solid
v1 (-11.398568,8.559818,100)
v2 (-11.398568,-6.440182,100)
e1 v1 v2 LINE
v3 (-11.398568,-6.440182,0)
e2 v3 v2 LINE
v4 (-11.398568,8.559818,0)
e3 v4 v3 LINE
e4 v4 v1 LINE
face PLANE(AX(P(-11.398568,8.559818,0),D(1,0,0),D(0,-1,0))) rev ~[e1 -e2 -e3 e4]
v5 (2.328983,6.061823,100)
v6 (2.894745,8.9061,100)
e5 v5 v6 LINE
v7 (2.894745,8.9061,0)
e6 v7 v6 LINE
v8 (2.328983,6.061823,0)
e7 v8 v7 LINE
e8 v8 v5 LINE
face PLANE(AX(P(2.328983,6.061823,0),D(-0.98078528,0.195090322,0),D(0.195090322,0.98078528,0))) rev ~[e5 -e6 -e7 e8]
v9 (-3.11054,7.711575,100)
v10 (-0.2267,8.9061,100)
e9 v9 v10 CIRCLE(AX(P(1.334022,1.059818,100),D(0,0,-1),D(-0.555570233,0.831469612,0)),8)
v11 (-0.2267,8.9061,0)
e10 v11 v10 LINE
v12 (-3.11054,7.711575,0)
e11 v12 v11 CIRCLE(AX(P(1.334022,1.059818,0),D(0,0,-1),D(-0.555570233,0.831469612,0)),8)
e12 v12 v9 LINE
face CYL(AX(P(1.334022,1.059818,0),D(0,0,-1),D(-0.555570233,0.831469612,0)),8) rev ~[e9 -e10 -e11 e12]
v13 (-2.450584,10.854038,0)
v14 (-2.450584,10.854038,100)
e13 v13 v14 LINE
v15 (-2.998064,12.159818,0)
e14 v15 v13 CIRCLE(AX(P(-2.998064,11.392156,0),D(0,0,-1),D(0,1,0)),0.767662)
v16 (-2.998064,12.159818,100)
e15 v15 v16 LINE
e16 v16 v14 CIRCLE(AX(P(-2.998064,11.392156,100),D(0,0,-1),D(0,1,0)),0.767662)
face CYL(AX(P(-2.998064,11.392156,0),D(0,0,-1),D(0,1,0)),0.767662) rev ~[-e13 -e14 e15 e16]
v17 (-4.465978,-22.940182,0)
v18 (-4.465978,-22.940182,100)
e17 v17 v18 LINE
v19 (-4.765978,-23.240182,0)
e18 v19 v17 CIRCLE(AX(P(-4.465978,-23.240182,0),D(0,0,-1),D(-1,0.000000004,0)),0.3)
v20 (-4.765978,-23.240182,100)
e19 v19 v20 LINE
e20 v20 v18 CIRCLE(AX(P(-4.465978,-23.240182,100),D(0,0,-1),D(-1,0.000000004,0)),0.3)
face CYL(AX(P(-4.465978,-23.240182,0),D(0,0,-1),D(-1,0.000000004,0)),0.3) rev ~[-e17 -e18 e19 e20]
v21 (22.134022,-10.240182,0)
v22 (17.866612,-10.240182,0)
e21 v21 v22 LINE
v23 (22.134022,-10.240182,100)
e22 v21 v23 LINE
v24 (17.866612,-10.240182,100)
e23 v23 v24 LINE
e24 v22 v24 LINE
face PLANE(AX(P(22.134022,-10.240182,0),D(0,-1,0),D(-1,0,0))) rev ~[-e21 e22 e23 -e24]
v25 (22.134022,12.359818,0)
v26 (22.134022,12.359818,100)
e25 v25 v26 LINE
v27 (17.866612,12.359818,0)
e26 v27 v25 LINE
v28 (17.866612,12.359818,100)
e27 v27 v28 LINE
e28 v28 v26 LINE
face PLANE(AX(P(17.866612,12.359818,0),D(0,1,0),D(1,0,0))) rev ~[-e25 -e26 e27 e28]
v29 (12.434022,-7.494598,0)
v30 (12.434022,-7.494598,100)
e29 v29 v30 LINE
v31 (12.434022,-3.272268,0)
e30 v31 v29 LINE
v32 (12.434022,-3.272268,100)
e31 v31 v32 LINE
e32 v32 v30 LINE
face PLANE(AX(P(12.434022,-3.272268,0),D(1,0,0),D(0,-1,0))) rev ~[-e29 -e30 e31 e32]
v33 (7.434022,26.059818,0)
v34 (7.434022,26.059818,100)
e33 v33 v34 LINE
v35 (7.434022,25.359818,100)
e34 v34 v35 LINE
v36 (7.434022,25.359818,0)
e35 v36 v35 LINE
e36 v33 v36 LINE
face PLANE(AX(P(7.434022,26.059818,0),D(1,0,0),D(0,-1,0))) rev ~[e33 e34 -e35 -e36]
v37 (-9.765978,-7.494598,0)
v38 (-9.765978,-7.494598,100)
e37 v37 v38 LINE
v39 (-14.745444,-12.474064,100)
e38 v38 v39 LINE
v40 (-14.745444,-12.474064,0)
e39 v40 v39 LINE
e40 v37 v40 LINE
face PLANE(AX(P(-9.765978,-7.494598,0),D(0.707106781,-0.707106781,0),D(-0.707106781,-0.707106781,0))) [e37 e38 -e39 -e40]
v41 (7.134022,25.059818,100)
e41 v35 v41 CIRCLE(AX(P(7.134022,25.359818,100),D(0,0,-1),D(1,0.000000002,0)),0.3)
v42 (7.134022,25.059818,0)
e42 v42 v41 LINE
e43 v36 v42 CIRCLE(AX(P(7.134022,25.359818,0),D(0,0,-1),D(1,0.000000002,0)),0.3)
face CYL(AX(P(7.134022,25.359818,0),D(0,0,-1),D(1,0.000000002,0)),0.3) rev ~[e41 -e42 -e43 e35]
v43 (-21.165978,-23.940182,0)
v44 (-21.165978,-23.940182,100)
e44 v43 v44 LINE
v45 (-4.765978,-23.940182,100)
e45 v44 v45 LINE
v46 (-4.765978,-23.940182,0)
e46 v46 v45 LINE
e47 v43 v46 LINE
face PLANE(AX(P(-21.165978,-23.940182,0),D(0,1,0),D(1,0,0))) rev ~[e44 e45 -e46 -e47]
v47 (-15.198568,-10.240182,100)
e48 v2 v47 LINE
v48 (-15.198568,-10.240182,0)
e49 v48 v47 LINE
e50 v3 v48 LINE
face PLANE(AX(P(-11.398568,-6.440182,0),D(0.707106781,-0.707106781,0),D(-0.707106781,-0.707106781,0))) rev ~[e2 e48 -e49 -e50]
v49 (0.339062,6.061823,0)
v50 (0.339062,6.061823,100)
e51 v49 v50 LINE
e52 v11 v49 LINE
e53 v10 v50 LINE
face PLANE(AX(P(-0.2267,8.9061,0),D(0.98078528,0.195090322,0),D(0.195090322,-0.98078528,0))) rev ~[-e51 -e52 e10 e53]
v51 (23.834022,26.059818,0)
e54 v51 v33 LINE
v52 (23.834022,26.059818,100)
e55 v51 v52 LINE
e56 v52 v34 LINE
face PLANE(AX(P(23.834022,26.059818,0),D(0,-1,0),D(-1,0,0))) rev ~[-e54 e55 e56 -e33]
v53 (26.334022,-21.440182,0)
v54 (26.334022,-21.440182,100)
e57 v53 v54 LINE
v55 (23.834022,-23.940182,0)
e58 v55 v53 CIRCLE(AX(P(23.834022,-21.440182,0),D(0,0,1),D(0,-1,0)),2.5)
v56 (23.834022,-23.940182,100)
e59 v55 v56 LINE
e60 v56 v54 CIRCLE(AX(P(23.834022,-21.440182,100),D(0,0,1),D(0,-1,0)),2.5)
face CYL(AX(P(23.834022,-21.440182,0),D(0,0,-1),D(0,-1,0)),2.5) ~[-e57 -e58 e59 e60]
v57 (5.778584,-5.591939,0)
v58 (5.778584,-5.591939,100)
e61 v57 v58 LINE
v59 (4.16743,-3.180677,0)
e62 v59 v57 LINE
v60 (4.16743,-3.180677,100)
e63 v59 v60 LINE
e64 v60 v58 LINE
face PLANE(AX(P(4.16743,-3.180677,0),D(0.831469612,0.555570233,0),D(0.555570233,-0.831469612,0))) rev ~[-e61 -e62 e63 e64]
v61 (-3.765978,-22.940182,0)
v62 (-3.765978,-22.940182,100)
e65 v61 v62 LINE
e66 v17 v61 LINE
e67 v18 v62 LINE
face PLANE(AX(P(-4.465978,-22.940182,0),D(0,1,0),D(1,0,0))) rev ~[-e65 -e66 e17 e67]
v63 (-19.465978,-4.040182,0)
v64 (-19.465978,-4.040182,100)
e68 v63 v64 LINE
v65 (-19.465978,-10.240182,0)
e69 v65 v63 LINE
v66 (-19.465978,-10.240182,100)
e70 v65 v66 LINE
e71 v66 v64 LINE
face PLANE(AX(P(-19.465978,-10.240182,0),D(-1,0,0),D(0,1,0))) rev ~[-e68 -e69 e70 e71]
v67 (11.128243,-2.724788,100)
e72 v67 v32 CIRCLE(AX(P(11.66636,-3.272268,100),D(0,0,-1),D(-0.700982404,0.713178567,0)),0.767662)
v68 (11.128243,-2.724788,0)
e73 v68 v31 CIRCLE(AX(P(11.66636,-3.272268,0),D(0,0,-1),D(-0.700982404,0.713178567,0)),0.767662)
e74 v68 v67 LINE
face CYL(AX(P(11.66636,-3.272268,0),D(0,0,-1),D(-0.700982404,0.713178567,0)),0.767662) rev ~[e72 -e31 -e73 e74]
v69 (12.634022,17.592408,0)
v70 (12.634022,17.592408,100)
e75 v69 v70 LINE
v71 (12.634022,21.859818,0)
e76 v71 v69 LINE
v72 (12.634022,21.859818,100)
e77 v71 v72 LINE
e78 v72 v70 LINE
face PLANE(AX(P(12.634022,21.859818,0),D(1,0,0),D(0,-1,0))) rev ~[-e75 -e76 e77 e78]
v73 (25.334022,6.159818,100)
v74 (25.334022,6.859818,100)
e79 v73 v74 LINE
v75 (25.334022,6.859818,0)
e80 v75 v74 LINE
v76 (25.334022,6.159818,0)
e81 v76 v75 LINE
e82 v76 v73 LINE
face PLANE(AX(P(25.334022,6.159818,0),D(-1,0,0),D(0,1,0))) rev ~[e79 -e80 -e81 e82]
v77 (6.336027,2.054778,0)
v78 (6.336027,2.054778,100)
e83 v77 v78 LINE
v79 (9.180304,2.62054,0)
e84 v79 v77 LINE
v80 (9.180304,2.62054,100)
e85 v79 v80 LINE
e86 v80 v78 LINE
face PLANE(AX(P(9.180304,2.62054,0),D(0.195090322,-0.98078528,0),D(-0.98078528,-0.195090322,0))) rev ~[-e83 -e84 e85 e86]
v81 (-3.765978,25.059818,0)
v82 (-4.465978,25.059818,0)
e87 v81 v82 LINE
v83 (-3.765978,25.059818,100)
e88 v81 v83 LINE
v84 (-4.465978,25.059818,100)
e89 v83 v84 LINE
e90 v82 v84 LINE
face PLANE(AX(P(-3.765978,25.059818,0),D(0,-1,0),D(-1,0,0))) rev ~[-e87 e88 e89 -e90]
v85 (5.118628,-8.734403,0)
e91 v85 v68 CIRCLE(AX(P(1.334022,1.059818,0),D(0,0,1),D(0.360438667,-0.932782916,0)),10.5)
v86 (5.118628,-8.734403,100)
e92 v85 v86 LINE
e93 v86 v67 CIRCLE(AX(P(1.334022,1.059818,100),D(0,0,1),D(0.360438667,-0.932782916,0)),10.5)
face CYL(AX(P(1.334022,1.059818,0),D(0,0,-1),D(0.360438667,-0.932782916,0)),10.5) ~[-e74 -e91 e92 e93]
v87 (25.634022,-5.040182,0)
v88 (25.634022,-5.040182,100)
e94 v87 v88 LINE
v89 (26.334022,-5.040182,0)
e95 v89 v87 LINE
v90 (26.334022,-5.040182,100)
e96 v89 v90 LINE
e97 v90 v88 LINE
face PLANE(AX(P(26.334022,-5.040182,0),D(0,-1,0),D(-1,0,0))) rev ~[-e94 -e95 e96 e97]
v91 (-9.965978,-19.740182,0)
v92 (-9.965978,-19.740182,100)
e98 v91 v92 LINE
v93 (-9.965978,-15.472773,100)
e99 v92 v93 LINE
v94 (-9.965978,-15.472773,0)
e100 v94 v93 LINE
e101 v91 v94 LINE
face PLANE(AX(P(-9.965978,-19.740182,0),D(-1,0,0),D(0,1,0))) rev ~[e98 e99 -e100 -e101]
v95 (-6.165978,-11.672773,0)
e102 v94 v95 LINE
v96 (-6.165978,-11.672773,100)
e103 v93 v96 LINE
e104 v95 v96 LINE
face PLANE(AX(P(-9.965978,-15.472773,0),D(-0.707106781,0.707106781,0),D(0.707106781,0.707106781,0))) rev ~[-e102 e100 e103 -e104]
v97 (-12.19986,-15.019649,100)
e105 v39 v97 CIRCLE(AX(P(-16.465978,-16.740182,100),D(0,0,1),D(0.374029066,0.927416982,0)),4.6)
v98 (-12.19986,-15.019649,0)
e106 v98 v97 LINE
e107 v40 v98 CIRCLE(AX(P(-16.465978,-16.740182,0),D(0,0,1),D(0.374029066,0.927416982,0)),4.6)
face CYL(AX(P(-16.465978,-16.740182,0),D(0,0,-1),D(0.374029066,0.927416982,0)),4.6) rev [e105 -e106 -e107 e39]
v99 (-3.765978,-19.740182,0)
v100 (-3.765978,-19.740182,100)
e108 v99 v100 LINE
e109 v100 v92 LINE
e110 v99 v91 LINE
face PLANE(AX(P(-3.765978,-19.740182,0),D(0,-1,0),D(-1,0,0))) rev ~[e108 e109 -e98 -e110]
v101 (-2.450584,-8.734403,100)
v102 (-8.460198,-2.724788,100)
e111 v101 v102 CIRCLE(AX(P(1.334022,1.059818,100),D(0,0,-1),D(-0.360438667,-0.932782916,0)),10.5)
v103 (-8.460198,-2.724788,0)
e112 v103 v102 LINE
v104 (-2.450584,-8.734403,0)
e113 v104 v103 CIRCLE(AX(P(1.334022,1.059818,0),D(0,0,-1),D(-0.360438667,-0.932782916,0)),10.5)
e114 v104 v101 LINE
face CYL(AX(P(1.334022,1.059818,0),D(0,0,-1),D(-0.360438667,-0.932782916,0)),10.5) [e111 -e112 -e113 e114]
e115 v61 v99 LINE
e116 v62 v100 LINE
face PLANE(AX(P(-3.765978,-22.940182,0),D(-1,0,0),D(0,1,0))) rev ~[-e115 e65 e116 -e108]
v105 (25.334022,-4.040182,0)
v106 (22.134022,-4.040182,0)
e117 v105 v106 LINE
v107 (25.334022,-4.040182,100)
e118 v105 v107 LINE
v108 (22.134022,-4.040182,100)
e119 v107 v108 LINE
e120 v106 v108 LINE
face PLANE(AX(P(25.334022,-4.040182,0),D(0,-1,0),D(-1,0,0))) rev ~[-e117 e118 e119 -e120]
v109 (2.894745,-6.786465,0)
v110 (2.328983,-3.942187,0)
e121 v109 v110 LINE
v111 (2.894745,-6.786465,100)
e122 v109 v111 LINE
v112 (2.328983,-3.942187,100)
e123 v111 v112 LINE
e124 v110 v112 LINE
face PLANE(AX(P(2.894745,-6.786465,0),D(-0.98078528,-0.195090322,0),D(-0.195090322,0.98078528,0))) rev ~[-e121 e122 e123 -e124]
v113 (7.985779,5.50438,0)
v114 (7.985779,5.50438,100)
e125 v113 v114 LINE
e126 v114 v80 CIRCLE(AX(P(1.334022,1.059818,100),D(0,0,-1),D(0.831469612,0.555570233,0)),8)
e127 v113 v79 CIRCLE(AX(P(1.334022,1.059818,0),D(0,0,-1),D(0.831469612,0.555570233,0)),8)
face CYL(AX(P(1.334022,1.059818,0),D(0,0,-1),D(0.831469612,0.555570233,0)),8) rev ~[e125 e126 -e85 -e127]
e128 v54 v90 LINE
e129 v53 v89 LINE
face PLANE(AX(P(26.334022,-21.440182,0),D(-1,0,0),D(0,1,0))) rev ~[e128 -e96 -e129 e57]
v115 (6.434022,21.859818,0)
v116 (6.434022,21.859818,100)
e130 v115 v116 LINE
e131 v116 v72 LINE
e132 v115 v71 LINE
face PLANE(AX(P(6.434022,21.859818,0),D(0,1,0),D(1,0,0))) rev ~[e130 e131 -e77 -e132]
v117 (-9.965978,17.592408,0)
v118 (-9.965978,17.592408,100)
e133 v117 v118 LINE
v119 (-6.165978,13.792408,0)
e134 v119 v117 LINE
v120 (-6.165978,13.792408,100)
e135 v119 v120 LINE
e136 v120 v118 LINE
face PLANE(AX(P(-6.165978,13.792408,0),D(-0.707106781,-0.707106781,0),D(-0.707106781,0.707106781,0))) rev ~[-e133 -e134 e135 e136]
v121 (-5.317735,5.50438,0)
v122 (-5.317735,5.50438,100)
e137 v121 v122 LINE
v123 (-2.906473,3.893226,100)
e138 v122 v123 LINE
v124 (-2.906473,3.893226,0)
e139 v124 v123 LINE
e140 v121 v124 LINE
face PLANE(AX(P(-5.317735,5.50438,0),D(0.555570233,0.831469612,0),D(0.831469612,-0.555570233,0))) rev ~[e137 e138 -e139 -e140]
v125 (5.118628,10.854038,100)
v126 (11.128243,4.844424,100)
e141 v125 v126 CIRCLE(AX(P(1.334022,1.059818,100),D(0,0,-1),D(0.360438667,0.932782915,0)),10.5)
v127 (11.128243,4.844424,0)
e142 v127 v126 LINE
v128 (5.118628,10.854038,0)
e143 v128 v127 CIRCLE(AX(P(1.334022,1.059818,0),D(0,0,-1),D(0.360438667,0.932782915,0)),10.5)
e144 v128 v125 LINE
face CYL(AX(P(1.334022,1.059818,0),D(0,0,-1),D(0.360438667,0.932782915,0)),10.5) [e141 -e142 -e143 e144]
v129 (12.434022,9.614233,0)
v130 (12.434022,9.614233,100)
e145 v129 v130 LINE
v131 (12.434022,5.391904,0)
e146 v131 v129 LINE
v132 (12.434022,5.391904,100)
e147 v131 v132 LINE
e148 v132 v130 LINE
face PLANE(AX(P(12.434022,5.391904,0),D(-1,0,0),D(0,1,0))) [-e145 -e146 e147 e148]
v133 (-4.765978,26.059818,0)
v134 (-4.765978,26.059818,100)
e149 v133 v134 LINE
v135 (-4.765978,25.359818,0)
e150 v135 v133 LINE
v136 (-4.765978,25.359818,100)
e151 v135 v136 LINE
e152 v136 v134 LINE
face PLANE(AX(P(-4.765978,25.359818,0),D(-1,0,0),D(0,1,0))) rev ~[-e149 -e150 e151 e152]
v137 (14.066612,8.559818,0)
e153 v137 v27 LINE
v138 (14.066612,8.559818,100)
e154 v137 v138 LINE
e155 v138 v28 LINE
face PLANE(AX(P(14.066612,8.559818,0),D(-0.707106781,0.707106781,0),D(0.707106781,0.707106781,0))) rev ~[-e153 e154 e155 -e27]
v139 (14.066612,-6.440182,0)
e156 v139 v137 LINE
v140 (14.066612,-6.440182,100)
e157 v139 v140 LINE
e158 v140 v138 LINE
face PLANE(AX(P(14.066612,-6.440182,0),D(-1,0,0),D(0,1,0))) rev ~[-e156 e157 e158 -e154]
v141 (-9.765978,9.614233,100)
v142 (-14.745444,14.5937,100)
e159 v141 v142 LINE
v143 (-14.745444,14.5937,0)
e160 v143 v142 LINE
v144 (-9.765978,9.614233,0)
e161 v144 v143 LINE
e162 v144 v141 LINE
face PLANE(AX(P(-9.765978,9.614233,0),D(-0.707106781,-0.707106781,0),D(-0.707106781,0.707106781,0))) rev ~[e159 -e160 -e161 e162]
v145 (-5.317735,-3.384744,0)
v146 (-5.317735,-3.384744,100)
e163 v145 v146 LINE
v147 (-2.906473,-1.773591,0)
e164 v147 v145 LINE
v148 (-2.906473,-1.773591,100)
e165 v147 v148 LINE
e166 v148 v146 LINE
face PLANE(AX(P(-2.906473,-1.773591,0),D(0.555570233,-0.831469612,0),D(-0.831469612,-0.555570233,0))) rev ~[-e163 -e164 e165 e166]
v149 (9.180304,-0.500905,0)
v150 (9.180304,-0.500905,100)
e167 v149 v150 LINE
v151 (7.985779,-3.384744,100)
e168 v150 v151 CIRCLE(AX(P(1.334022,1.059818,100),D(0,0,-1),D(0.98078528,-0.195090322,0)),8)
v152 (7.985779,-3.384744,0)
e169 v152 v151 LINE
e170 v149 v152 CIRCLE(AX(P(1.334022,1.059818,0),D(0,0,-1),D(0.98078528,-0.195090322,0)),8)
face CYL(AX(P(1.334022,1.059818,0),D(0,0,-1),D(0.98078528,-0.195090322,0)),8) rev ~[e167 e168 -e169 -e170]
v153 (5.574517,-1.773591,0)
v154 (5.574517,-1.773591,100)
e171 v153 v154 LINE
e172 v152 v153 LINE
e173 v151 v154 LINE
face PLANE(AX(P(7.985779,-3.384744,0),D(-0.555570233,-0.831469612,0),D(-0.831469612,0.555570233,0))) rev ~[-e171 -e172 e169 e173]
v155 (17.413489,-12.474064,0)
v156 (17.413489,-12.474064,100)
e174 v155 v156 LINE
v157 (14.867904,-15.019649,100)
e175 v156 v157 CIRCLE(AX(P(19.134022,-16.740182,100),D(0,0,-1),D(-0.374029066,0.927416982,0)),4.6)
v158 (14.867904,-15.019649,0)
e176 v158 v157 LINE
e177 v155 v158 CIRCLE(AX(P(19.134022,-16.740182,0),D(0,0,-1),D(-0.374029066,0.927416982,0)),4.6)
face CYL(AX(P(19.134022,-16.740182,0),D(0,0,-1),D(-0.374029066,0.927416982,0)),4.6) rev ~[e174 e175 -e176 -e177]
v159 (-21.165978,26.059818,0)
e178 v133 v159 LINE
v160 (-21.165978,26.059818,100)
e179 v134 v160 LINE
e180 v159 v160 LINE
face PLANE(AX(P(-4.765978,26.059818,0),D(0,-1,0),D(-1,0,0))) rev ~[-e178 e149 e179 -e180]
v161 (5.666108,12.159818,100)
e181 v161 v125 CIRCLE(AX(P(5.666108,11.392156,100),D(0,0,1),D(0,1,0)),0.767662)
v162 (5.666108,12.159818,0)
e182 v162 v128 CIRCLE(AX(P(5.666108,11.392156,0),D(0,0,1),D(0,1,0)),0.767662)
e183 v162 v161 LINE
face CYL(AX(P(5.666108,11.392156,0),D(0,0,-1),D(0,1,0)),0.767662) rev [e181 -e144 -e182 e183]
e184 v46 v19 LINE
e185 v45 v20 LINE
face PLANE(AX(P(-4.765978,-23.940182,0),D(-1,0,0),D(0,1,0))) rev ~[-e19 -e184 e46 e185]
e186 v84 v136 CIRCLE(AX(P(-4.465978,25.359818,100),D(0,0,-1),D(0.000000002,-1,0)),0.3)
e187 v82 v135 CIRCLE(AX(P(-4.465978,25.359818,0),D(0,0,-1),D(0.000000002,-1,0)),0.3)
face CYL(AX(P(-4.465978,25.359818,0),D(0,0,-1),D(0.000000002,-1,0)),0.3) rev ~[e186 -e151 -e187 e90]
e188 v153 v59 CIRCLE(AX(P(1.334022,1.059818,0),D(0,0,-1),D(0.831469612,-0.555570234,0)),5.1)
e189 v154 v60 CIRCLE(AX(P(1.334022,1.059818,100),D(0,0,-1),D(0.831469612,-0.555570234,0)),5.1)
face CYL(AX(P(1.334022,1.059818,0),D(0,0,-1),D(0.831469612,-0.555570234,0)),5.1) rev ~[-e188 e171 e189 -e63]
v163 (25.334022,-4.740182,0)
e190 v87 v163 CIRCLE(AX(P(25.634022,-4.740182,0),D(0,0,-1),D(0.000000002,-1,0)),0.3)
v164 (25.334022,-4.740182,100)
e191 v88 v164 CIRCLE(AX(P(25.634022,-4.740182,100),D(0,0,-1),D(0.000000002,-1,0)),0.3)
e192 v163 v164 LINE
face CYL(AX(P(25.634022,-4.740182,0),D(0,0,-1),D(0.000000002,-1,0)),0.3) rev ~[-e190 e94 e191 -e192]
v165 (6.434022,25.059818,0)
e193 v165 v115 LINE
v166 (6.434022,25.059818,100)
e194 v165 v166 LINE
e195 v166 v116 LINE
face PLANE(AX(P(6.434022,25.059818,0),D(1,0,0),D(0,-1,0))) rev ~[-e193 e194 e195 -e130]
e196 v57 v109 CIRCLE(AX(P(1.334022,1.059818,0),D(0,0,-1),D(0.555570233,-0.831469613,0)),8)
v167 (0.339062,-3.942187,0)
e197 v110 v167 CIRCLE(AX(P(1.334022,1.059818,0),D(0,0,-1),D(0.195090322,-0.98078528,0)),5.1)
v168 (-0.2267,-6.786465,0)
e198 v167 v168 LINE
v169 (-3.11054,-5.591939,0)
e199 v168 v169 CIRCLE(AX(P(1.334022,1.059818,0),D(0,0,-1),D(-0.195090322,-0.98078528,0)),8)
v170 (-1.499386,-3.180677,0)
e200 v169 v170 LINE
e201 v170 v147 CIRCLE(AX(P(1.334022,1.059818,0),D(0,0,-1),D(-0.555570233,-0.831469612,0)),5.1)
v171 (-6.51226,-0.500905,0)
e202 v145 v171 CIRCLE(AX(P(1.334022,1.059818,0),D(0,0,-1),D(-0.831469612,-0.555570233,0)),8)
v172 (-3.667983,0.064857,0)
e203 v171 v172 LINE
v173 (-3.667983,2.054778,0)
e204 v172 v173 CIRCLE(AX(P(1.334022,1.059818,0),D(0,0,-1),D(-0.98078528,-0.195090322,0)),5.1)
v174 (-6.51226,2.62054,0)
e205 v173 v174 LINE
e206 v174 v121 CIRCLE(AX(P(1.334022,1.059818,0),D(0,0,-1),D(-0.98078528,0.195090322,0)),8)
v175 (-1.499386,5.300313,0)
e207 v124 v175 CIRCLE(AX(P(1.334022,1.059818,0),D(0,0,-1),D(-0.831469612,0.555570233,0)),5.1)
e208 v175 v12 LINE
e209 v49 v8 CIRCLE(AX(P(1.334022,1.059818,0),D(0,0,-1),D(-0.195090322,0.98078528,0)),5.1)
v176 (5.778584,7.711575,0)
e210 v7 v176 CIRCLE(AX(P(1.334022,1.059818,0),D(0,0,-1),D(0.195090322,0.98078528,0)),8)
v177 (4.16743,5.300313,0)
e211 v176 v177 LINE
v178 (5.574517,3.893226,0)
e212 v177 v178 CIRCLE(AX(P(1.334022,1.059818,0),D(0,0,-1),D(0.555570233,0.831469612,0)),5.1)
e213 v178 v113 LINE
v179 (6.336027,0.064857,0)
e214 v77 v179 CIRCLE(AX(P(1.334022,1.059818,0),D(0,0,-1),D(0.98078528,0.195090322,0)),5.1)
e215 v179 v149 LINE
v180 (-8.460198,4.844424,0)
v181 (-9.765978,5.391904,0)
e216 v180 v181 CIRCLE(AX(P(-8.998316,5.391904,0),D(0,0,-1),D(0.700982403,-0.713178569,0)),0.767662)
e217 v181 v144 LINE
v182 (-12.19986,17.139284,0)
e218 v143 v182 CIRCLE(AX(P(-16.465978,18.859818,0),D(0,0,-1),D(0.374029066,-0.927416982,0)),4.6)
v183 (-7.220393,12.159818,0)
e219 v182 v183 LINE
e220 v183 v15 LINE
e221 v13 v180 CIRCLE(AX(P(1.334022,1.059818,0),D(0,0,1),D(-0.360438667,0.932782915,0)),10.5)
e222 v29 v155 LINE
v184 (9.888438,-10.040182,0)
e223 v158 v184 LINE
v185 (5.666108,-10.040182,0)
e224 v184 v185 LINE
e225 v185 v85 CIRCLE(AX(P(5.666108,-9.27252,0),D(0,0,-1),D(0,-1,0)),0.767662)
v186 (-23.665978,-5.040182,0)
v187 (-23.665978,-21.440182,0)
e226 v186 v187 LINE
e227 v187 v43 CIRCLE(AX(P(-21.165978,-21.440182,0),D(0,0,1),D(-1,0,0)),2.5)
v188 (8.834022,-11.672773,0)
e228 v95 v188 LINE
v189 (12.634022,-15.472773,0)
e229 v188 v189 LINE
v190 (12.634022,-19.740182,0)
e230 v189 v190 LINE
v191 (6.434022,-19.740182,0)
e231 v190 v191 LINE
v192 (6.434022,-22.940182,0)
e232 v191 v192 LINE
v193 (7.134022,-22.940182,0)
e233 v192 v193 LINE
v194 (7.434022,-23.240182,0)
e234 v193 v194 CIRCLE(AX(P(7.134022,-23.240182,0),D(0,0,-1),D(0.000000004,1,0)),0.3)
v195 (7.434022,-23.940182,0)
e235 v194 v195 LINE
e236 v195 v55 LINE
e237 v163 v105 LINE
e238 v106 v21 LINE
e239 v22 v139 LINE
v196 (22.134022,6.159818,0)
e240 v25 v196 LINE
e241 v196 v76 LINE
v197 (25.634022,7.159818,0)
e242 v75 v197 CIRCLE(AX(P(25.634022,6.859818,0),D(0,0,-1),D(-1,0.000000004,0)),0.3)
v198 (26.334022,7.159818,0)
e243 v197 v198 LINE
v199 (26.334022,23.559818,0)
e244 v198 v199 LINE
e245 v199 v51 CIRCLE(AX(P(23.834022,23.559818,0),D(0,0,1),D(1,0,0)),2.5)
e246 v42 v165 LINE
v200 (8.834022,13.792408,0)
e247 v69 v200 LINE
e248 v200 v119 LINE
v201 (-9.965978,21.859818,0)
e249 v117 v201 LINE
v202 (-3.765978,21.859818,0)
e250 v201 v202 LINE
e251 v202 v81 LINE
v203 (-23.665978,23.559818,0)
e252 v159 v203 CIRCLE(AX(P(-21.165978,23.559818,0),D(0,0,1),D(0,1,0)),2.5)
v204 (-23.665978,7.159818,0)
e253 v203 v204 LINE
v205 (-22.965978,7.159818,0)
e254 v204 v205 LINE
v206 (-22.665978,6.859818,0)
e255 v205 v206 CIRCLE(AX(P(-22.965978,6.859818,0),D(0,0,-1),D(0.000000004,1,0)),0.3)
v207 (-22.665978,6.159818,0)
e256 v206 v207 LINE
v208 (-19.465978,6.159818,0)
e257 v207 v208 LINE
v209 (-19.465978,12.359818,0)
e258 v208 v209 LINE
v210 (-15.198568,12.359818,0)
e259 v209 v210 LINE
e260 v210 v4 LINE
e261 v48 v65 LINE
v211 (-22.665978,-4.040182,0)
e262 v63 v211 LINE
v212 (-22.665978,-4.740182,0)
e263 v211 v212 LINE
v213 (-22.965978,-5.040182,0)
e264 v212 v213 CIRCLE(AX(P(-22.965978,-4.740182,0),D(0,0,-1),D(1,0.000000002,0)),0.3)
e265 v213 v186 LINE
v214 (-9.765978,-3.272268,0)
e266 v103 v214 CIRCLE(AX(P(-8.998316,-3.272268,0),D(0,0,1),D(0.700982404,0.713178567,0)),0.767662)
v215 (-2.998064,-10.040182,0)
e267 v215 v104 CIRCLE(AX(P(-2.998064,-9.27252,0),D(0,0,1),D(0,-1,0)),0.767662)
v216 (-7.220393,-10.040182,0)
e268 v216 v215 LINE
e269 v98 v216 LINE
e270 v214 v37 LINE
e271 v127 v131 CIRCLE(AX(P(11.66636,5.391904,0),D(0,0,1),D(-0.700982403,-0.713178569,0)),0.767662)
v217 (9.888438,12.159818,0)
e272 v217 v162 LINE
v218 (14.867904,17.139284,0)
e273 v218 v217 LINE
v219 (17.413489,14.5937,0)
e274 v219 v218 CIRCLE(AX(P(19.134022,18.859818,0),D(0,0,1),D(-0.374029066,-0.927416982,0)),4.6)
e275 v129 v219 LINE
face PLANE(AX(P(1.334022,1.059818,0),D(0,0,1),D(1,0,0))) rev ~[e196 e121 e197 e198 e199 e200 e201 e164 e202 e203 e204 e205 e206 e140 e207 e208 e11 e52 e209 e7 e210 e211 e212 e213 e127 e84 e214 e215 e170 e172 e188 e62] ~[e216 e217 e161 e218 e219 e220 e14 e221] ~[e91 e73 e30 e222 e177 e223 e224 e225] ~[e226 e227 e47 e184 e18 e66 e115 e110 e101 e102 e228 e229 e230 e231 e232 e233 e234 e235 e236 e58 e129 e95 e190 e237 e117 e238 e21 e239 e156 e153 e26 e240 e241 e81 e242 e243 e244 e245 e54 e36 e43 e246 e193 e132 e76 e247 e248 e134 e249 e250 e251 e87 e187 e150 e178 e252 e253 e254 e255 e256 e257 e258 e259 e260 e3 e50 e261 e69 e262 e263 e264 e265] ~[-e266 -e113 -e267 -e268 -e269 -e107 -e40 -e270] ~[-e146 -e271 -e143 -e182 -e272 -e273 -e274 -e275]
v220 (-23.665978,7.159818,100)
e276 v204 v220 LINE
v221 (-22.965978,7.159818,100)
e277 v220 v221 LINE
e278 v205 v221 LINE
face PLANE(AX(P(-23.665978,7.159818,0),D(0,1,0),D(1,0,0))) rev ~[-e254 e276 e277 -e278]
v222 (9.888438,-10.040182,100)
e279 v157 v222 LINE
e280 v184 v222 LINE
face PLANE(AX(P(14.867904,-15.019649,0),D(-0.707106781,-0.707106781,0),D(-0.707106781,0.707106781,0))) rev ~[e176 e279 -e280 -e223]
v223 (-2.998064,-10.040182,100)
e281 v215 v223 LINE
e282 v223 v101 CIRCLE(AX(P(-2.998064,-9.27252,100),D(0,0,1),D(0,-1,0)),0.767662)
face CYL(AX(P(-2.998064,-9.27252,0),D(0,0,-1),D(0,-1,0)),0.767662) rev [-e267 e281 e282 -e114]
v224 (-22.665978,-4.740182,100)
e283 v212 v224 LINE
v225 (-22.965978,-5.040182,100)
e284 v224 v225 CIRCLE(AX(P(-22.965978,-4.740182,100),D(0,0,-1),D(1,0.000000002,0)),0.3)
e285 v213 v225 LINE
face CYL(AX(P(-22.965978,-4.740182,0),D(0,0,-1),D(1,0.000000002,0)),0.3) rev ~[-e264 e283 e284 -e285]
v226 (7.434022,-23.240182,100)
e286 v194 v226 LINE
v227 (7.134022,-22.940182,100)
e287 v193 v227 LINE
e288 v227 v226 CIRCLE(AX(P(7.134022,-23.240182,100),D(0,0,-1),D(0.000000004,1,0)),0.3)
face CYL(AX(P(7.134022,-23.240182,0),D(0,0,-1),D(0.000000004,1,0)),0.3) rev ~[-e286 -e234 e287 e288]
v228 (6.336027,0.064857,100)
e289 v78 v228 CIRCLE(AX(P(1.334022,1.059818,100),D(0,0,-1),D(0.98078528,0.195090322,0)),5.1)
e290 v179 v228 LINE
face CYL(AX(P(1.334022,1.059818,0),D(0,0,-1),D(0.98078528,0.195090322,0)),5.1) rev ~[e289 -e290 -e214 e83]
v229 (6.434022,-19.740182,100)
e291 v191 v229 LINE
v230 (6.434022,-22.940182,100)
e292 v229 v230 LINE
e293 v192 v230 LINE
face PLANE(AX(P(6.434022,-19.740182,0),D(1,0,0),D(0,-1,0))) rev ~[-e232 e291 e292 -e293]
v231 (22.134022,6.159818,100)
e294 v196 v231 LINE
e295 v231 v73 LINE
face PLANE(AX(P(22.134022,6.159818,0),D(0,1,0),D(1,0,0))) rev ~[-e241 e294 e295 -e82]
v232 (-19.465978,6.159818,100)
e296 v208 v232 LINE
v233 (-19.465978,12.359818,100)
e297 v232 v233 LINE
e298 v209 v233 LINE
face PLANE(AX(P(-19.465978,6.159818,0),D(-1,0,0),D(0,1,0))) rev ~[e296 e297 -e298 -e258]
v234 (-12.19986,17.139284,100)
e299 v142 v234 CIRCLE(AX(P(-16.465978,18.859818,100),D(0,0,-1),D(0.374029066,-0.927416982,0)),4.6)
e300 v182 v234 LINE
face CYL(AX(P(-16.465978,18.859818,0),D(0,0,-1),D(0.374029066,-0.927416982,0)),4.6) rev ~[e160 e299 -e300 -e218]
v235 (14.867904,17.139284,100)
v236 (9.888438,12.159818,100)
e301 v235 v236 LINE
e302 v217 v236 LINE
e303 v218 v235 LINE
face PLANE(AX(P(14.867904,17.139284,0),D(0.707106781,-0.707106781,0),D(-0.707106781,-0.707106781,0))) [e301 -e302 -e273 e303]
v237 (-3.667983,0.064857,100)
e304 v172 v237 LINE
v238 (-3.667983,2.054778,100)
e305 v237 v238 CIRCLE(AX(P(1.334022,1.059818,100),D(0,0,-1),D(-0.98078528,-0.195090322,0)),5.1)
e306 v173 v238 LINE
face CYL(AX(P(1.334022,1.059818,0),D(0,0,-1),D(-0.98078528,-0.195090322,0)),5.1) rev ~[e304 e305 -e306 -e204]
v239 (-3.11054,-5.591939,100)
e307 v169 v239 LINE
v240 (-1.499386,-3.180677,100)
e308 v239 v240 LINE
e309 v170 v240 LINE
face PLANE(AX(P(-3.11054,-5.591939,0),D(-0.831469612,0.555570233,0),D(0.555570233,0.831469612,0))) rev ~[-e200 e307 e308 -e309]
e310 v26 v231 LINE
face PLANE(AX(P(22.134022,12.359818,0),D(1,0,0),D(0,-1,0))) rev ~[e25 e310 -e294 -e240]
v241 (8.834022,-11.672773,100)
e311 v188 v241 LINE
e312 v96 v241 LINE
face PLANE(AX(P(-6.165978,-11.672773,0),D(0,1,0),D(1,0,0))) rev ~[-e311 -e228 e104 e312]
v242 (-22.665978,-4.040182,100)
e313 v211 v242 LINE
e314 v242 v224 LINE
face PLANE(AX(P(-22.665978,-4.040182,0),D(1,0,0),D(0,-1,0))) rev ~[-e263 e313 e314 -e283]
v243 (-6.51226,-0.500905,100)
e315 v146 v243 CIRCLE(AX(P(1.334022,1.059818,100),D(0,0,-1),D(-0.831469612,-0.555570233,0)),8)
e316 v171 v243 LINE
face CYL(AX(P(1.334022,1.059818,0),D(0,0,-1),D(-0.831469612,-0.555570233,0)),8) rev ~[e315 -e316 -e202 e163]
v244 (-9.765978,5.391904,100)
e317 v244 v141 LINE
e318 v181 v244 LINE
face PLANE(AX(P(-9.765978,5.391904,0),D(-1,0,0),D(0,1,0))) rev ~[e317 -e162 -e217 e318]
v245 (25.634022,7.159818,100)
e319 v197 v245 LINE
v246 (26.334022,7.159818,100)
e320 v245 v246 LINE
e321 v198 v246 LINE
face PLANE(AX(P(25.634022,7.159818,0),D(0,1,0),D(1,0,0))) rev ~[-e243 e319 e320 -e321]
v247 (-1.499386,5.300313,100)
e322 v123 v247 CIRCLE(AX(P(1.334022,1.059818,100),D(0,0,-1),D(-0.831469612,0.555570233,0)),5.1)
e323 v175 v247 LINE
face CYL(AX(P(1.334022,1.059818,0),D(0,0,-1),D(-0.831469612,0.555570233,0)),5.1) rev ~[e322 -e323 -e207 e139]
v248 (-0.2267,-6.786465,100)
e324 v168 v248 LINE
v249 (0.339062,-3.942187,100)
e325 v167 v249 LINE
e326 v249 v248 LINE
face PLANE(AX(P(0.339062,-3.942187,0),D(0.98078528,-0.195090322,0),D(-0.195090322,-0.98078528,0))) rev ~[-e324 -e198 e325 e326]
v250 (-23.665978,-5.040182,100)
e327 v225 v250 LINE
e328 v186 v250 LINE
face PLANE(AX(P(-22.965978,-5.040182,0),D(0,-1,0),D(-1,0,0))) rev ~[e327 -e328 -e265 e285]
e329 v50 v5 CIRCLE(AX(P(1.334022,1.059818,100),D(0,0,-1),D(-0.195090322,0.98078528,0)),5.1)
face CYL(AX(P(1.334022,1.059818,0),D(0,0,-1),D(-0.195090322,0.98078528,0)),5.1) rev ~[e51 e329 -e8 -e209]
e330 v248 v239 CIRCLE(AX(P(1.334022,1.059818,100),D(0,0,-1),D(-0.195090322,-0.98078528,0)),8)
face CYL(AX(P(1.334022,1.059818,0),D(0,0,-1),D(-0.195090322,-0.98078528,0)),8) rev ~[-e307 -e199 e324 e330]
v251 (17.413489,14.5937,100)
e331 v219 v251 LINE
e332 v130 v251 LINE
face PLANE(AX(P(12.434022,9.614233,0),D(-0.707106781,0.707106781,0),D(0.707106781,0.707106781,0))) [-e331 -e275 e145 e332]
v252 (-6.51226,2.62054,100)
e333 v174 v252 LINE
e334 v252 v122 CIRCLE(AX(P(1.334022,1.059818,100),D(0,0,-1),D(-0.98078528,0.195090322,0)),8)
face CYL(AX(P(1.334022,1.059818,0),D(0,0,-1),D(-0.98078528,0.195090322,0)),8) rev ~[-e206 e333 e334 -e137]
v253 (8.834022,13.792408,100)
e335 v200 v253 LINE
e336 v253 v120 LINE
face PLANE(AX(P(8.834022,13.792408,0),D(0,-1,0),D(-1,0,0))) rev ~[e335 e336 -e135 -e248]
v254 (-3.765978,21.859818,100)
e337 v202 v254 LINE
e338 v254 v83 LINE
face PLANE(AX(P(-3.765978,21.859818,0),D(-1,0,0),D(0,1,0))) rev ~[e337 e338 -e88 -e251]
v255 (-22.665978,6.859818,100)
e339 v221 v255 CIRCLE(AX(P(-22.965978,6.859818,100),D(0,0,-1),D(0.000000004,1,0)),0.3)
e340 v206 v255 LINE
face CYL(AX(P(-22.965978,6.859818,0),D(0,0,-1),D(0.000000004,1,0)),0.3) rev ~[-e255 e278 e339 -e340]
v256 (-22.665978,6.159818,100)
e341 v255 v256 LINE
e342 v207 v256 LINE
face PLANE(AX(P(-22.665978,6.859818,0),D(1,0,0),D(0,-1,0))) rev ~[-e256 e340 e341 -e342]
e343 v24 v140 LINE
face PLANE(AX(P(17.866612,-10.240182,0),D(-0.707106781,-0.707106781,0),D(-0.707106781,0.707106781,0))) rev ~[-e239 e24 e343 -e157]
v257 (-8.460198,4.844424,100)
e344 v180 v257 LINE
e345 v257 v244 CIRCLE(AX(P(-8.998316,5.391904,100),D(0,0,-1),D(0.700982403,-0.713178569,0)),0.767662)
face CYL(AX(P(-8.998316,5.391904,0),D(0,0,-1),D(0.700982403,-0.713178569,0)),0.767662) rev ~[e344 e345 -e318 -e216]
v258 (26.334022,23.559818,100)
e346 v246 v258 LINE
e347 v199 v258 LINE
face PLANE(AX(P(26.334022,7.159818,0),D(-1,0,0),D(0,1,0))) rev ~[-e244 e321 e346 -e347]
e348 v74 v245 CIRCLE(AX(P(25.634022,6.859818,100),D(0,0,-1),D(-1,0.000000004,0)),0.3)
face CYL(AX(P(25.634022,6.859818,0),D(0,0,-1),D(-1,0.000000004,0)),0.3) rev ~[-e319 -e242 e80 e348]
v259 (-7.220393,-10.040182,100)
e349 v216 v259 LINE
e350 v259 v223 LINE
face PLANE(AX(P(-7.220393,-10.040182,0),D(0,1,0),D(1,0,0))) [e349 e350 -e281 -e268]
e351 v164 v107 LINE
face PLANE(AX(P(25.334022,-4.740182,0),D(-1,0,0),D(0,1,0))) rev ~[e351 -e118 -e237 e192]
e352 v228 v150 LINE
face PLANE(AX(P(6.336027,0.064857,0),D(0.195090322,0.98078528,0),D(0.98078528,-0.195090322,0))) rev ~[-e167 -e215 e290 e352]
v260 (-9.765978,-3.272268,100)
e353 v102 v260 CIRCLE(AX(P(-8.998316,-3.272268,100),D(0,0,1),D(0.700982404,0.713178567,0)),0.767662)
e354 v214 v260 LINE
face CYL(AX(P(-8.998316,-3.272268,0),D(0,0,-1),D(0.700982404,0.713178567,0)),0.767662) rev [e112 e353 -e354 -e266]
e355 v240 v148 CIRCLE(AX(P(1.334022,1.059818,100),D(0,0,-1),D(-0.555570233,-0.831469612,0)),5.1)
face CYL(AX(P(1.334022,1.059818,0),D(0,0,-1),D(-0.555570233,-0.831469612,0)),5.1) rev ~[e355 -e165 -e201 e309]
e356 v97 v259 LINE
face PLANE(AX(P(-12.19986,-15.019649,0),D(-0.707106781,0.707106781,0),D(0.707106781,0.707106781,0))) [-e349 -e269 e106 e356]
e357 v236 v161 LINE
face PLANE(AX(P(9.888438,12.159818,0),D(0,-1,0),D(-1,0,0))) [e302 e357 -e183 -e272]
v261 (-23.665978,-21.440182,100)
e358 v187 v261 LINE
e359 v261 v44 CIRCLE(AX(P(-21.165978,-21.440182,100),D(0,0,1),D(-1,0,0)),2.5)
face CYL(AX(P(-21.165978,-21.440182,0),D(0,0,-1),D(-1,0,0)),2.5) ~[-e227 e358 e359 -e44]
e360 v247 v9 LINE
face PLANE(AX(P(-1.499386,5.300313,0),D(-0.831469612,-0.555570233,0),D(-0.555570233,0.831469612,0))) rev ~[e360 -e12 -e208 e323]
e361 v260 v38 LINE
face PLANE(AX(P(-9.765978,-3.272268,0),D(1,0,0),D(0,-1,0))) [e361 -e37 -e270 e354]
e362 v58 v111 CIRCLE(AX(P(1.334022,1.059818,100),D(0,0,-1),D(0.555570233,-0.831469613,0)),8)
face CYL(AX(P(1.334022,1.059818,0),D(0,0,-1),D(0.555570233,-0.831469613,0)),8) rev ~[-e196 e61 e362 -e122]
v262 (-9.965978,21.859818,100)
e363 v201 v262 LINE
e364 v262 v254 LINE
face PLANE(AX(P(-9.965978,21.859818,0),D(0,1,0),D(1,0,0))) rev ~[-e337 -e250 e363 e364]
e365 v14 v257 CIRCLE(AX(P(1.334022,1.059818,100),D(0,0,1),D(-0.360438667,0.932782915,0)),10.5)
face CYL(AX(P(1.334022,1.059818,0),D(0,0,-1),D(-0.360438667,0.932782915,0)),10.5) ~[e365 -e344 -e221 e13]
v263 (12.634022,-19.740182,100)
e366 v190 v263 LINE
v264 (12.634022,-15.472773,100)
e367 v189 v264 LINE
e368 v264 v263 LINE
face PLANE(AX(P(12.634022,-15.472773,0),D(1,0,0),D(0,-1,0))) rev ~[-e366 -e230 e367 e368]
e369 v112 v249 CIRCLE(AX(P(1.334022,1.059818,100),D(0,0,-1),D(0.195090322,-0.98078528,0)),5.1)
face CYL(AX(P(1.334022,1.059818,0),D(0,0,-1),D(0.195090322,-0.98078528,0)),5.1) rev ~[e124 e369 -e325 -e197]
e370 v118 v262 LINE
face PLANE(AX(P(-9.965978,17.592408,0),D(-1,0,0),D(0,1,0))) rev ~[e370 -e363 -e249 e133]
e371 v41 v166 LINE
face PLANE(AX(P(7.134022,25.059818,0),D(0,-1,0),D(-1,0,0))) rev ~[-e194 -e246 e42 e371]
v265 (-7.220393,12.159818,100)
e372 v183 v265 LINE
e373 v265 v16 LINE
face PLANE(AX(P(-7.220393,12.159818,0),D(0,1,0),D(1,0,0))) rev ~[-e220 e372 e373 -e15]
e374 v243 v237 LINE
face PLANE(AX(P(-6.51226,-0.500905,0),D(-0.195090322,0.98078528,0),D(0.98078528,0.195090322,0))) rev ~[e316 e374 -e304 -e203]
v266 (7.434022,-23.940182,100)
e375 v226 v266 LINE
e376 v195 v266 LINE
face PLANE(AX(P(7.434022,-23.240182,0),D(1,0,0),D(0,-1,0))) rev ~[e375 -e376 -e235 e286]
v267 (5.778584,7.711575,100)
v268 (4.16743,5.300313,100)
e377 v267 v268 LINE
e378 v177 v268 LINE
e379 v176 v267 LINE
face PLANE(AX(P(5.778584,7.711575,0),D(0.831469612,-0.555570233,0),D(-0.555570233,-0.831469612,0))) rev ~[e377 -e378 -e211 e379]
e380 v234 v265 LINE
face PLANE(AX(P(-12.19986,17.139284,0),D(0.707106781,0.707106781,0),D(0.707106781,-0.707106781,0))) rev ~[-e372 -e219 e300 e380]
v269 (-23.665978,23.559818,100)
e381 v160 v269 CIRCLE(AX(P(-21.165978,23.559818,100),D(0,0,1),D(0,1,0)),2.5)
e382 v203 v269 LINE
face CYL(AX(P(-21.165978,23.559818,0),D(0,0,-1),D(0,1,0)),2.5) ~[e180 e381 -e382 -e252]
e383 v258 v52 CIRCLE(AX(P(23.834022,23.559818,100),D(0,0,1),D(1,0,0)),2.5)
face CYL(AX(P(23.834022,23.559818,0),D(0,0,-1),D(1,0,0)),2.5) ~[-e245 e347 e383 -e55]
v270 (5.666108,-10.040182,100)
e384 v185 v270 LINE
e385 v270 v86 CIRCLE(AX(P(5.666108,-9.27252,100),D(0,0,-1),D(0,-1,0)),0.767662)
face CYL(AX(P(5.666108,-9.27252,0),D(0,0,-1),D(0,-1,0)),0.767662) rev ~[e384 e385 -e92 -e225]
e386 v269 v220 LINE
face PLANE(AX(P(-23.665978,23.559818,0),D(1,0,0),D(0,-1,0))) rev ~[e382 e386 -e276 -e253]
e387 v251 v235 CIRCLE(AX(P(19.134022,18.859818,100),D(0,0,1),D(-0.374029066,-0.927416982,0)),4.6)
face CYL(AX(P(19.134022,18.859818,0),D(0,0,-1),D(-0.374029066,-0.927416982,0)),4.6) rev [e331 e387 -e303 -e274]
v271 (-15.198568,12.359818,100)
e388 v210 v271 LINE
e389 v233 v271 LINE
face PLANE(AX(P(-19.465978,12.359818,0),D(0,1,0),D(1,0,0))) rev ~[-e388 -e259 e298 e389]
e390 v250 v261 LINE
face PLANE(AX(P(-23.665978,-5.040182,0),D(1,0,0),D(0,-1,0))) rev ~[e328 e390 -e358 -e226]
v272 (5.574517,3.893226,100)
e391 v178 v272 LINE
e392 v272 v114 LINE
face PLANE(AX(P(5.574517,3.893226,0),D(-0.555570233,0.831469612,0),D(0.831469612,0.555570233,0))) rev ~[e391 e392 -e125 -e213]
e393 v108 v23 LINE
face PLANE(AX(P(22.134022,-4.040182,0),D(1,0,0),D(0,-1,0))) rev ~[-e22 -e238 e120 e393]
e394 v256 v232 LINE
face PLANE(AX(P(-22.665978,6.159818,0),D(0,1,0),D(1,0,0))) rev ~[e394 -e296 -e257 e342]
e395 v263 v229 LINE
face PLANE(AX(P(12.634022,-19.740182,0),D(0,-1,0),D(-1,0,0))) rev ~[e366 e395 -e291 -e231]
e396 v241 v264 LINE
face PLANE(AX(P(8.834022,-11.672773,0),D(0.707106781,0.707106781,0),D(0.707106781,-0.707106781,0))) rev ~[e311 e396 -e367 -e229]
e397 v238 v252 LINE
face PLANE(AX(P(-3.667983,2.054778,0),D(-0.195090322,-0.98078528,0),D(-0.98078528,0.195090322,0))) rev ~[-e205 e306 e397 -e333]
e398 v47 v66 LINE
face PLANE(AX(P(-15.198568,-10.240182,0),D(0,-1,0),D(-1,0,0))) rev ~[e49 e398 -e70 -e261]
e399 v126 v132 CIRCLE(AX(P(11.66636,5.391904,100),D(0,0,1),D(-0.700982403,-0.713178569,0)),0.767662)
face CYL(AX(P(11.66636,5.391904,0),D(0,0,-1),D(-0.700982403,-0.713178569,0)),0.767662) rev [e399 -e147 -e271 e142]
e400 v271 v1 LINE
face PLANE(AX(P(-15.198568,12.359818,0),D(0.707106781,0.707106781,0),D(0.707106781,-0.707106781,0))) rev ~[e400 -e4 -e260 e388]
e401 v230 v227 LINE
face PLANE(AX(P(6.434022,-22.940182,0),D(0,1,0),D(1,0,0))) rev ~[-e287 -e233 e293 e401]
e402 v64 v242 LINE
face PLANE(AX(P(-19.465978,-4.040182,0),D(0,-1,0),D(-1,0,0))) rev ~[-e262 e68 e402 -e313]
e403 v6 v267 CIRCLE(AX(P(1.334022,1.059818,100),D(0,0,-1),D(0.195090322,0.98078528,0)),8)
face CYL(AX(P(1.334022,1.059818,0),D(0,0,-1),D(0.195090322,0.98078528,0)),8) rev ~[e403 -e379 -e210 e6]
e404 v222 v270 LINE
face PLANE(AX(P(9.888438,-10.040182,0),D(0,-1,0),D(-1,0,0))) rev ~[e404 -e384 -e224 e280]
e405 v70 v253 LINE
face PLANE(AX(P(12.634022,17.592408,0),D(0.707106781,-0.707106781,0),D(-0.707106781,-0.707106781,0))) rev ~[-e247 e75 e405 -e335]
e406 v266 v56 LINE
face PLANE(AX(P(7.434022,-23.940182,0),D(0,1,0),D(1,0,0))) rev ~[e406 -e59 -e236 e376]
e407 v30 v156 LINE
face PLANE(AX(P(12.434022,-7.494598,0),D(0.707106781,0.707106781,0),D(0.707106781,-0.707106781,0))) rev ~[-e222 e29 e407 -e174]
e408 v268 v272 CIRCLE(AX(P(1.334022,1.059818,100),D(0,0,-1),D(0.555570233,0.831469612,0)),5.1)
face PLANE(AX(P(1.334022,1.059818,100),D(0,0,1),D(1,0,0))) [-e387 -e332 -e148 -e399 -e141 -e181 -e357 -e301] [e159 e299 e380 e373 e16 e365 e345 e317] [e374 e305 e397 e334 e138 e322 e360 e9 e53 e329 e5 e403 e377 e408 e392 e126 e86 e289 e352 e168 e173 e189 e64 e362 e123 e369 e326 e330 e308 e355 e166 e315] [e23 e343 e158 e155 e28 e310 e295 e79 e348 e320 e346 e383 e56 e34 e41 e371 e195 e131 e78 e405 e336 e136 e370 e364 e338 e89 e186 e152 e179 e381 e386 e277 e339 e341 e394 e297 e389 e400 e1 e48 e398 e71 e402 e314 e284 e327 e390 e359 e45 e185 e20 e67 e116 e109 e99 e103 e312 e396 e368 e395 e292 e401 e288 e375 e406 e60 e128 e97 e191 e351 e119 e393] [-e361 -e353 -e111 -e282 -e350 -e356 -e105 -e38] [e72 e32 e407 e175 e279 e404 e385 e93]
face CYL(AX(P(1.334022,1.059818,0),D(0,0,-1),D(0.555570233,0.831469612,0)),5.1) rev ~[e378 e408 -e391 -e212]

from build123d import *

# Parameters (mm, degrees)
EXTRUDE_1_DEPTH = 100


with BuildPart() as part:
    # 草图1 → 凸台-拉伸1 (new body)
    with BuildSketch(Plane.XY):
        with BuildLine():
            Line((-4.765977756, 26.059817672), (-21.165977756, 26.059817672))
            ThreePointArc((-21.165977756, 26.059817672), (-22.933744709, 25.327584625), (-23.665977756, 23.559817672))
            Line((-23.665977756, 23.559817672), (-23.665977756, 7.159817672))
            Line((-23.665977756, 7.159817672), (-22.965977756, 7.159817672))
            ThreePointArc((-22.965977756, 7.159817672), (-22.753845722, 7.071949706), (-22.665977756, 6.859817672))
            Line((-22.665977756, 6.859817672), (-22.665977756, 6.159817672))
            Line((-22.665977756, 6.159817672), (-19.465977756, 6.159817672))
            Line((-19.465977756, 6.159817672), (-19.465977756, 12.359817672))
            Line((-19.465977756, 12.359817672), (-15.198567937, 12.359817672))
            Line((-15.198567937, 12.359817672), (-11.398567937, 8.559817672))
            Line((-11.398567937, 8.559817672), (-11.398567937, 1.059817672))
            Line((-11.398567937, 1.059817672), (-11.398567937, -6.440182328))
            Line((-11.398567937, -6.440182328), (-15.198567937, -10.240182328))
            Line((-15.198567937, -10.240182328), (-19.465977756, -10.240182328))
            Line((-19.465977756, -10.240182328), (-19.465977756, -4.040182328))
            Line((-19.465977756, -4.040182328), (-22.665977756, -4.040182328))
            Line((-22.665977756, -4.040182328), (-22.665977756, -4.740182328))
            ThreePointArc((-22.665977756, -4.740182328), (-22.753845722, -4.952314363), (-22.965977756, -5.040182328))
            Line((-22.965977756, -5.040182328), (-23.665977756, -5.040182328))
            Line((-23.665977756, -5.040182328), (-23.665977756, -21.440182328))
            ThreePointArc((-23.665977756, -21.440182328), (-22.933744709, -23.207949281), (-21.165977756, -23.940182328))
            Line((-21.165977756, -23.940182328), (-4.765977756, -23.940182328))
            Line((-4.765977756, -23.940182328), (-4.765977756, -23.240182328))
            ThreePointArc((-4.765977756, -23.240182328), (-4.67810979, -23.028050294), (-4.465977756, -22.940182328))
            Line((-4.465977756, -22.940182328), (-3.765977756, -22.940182328))
            Line((-3.765977756, -22.940182328), (-3.765977756, -19.740182328))
            Line((-3.765977756, -19.740182328), (-9.965977756, -19.740182328))
            Line((-9.965977756, -19.740182328), (-9.965977756, -15.472772509))
            Line((-9.965977756, -15.472772509), (-6.165977756, -11.672772509))
            Line((-6.165977756, -11.672772509), (1.334022244, -11.672772509))
            Line((1.334022244, -11.672772509), (8.834022244, -11.672772509))
            Line((8.834022244, -11.672772509), (12.634022244, -15.472772509))
            Line((12.634022244, -15.472772509), (12.634022244, -19.740182328))
            Line((12.634022244, -19.740182328), (6.434022244, -19.740182328))
            Line((6.434022244, -19.740182328), (6.434022244, -22.940182328))
            Line((6.434022244, -22.940182328), (7.134022244, -22.940182328))
            ThreePointArc((7.134022244, -22.940182328), (7.346154278, -23.028050294), (7.434022244, -23.240182328))
            Line((7.434022244, -23.240182328), (7.434022244, -23.940182328))
            Line((7.434022244, -23.940182328), (23.834022244, -23.940182328))
            ThreePointArc((23.834022244, -23.940182328), (25.601789197, -23.207949281), (26.334022244, -21.440182328))
            Line((26.334022244, -21.440182328), (26.334022244, -5.040182328))
            Line((26.334022244, -5.040182328), (25.634022244, -5.040182328))
            ThreePointArc((25.634022244, -5.040182328), (25.42189021, -4.952314363), (25.334022244, -4.740182328))
            Line((25.334022244, -4.740182328), (25.334022244, -4.040182328))
            Line((25.334022244, -4.040182328), (22.134022244, -4.040182328))
            Line((22.134022244, -4.040182328), (22.134022244, -10.240182328))
            Line((22.134022244, -10.240182328), (17.866612425, -10.240182328))
            Line((17.866612425, -10.240182328), (14.066612425, -6.440182328))
            Line((14.066612425, -6.440182328), (14.066612425, 1.059817672))
            Line((14.066612425, 1.059817672), (14.066612425, 8.559817672))
            Line((14.066612425, 8.559817672), (17.866612425, 12.359817672))
            Line((17.866612425, 12.359817672), (22.134022244, 12.359817672))
            Line((22.134022244, 12.359817672), (22.134022244, 6.159817672))
            Line((22.134022244, 6.159817672), (25.334022244, 6.159817672))
            Line((25.334022244, 6.159817672), (25.334022244, 6.859817672))
            ThreePointArc((25.334022244, 6.859817672), (25.42189021, 7.071949706), (25.634022244, 7.159817672))
            Line((25.634022244, 7.159817672), (26.334022244, 7.159817672))
            Line((26.334022244, 7.159817672), (26.334022244, 23.559817672))
            ThreePointArc((26.334022244, 23.559817672), (25.601789197, 25.327584625), (23.834022244, 26.059817672))
            Line((23.834022244, 26.059817672), (7.434022244, 26.059817672))
            Line((7.434022244, 26.059817672), (7.434022244, 25.359817672))
            ThreePointArc((7.434022244, 25.359817672), (7.346154278, 25.147685637), (7.134022244, 25.059817672))
            Line((7.134022244, 25.059817672), (6.434022244, 25.059817672))
            Line((6.434022244, 25.059817672), (6.434022244, 21.859817672))
            Line((6.434022244, 21.859817672), (12.634022244, 21.859817672))
            Line((12.634022244, 21.859817672), (12.634022244, 17.592407853))
            Line((12.634022244, 17.592407853), (8.834022244, 13.792407853))
            Line((8.834022244, 13.792407853), (1.334022244, 13.792407853))
            Line((1.334022244, 13.792407853), (-6.165977756, 13.792407853))
            Line((-6.165977756, 13.792407853), (-9.965977756, 17.592407853))
            Line((-9.965977756, 17.592407853), (-9.965977756, 21.859817672))
            Line((-9.965977756, 21.859817672), (-3.765977756, 21.859817672))
            Line((-3.765977756, 21.859817672), (-3.765977756, 25.059817672))
            Line((-3.765977756, 25.059817672), (-4.465977756, 25.059817672))
            ThreePointArc((-4.465977756, 25.059817672), (-4.67810979, 25.147685637), (-4.765977756, 25.359817672))
            Line((-4.765977756, 25.359817672), (-4.765977756, 26.059817672))
        make_face()
        with BuildLine():
            Line((-9.765977756, 5.391903688), (-9.765977756, 9.61423326))
            Line((-9.765977756, 9.61423326), (-14.745444053, 14.593699556))
            ThreePointArc((-14.745444053, 14.593699556), (-19.718668949, 22.112508865), (-12.19985964, 17.139283969))
            Line((-12.19985964, 17.139283969), (-7.220393344, 12.159817672))
            Line((-7.220393344, 12.159817672), (-2.998063772, 12.159817672))
            ThreePointArc((-2.998063772, 12.159817672), (-2.29011, 11.688982743), (-2.450583757, 10.854038285))
            ThreePointArc((-2.450583757, 10.854038285), (-6.090598958, 8.484438874), (-8.460198369, 4.844423672))
            ThreePointArc((-8.460198369, 4.844423672), (-9.295142827, 4.683949916), (-9.765977756, 5.391903688))
        make_face(mode=Mode.SUBTRACT)
        with BuildLine():
            Line((-3.11053962, -5.591939227), (-1.499385944, -3.180677351))
            ThreePointArc((-1.499385944, -3.180677351), (-2.27222234, -2.546426912), (-2.906472779, -1.773590517))
            Line((-2.906472779, -1.773590517), (-5.317734654, -3.384744192))
            ThreePointArc((-5.317734654, -3.384744192), (-6.057014016, -2.001649787), (-6.512259999, -0.500904904))
            Line((-6.512259999, -0.500904904), (-3.667982686, 0.06485703))
            ThreePointArc((-3.667982686, 0.06485703), (-3.765977756, 1.059817672), (-3.667982686, 2.054778314))
            Line((-3.667982686, 2.054778314), (-6.512259999, 2.620540248))
            ThreePointArc((-6.512259999, 2.620540248), (-6.057014016, 4.121285131), (-5.317734654, 5.504379536))
            Line((-5.317734654, 5.504379536), (-2.906472779, 3.89322586))
            ThreePointArc((-2.906472779, 3.89322586), (-2.27222234, 4.666062256), (-1.499385944, 5.300312695))
            Line((-1.499385944, 5.300312695), (-3.11053962, 7.71157457))
            ThreePointArc((-3.11053962, 7.71157457), (-1.727445215, 8.450853932), (-0.226700332, 8.906099915))
            Line((-0.226700332, 8.906099915), (0.339061602, 6.061822602))
            ThreePointArc((0.339061602, 6.061822602), (1.334022244, 6.159817672), (2.328982886, 6.061822602))
            Line((2.328982886, 6.061822602), (2.89474482, 8.906099915))
            ThreePointArc((2.89474482, 8.906099915), (4.395489703, 8.450853932), (5.778584108, 7.71157457))
            Line((5.778584108, 7.71157457), (4.167430432, 5.300312695))
            ThreePointArc((4.167430432, 5.300312695), (4.940266828, 4.666062256), (5.574517267, 3.89322586))
            Line((5.574517267, 3.89322586), (7.985779142, 5.504379536))
            ThreePointArc((7.985779142, 5.504379536), (8.725058504, 4.121285131), (9.180304487, 2.620540248))
            Line((9.180304487, 2.620540248), (6.336027174, 2.054778314))
            ThreePointArc((6.336027174, 2.054778314), (6.434022244, 1.059817672), (6.336027174, 0.06485703))
            Line((6.336027174, 0.06485703), (9.180304487, -0.500904904))
            ThreePointArc((9.180304487, -0.500904904), (8.725058504, -2.001649787), (7.985779142, -3.384744192))
            Line((7.985779142, -3.384744192), (5.574517267, -1.773590517))
            ThreePointArc((5.574517267, -1.773590517), (4.940266828, -2.546426912), (4.167430432, -3.180677351))
            Line((4.167430432, -3.180677351), (5.778584108, -5.591939227))
            ThreePointArc((5.778584108, -5.591939227), (4.395489703, -6.331218588), (2.89474482, -6.786464571))
            Line((2.89474482, -6.786464571), (2.328982886, -3.942187258))
            ThreePointArc((2.328982886, -3.942187258), (1.334022244, -4.040182328), (0.339061602, -3.942187258))
            Line((0.339061602, -3.942187258), (-0.226700332, -6.786464571))
            ThreePointArc((-0.226700332, -6.786464571), (-1.727445215, -6.331218588), (-3.11053962, -5.591939227))
        make_face(mode=Mode.SUBTRACT)
        with BuildLine():
            Line((12.434022244, 5.391903688), (12.434022244, 9.61423326))
            Line((12.434022244, 9.61423326), (17.413488541, 14.593699556))
            ThreePointArc((17.413488541, 14.593699556), (22.386713437, 22.112508865), (14.867904128, 17.139283969))
            Line((14.867904128, 17.139283969), (9.888437832, 12.159817672))
            Line((9.888437832, 12.159817672), (5.66610826, 12.159817672))
            ThreePointArc((5.66610826, 12.159817672), (4.958154488, 11.688982743), (5.118628245, 10.854038285))
            ThreePointArc((5.118628245, 10.854038285), (8.758643446, 8.484438874), (11.128242857, 4.844423672))
            ThreePointArc((11.128242857, 4.844423672), (11.963187315, 4.683949916), (12.434022244, 5.391903688))
        make_face(mode=Mode.SUBTRACT)
        with BuildLine():
            Line((-9.765977756, -3.272268344), (-9.765977756, -7.494597916))
            Line((-9.765977756, -7.494597916), (-14.745444053, -12.474064213))
            ThreePointArc((-14.745444053, -12.474064213), (-19.718668949, -19.992873522), (-12.19985964, -15.019648625))
            Line((-12.19985964, -15.019648625), (-7.220393344, -10.040182328))
            Line((-7.220393344, -10.040182328), (-2.998063772, -10.040182328))
            ThreePointArc((-2.998063772, -10.040182328), (-2.29011, -9.569347399), (-2.450583757, -8.734402941))
            ThreePointArc((-2.450583757, -8.734402941), (-6.090598958, -6.364803531), (-8.460198369, -2.724788329))
            ThreePointArc((-8.460198369, -2.724788329), (-9.295142827, -2.564314572), (-9.765977756, -3.272268344))
        make_face(mode=Mode.SUBTRACT)
        with BuildLine():
            Line((12.434022244, -3.272268344), (12.434022244, -7.494597916))
            Line((12.434022244, -7.494597916), (17.413488541, -12.474064213))
            ThreePointArc((17.413488541, -12.474064213), (22.386713437, -19.992873522), (14.867904128, -15.019648625))
            Line((14.867904128, -15.019648625), (9.888437832, -10.040182328))
            Line((9.888437832, -10.040182328), (5.66610826, -10.040182328))
            ThreePointArc((5.66610826, -10.040182328), (4.958154488, -9.569347399), (5.118628245, -8.734402941))
            ThreePointArc((5.118628245, -8.734402941), (8.758643446, -6.364803531), (11.128242857, -2.724788329))
            ThreePointArc((11.128242857, -2.724788329), (11.963187315, -2.564314572), (12.434022244, -3.272268344))
        make_face(mode=Mode.SUBTRACT)
    extrude(amount=EXTRUDE_1_DEPTH)


solid = part.part
